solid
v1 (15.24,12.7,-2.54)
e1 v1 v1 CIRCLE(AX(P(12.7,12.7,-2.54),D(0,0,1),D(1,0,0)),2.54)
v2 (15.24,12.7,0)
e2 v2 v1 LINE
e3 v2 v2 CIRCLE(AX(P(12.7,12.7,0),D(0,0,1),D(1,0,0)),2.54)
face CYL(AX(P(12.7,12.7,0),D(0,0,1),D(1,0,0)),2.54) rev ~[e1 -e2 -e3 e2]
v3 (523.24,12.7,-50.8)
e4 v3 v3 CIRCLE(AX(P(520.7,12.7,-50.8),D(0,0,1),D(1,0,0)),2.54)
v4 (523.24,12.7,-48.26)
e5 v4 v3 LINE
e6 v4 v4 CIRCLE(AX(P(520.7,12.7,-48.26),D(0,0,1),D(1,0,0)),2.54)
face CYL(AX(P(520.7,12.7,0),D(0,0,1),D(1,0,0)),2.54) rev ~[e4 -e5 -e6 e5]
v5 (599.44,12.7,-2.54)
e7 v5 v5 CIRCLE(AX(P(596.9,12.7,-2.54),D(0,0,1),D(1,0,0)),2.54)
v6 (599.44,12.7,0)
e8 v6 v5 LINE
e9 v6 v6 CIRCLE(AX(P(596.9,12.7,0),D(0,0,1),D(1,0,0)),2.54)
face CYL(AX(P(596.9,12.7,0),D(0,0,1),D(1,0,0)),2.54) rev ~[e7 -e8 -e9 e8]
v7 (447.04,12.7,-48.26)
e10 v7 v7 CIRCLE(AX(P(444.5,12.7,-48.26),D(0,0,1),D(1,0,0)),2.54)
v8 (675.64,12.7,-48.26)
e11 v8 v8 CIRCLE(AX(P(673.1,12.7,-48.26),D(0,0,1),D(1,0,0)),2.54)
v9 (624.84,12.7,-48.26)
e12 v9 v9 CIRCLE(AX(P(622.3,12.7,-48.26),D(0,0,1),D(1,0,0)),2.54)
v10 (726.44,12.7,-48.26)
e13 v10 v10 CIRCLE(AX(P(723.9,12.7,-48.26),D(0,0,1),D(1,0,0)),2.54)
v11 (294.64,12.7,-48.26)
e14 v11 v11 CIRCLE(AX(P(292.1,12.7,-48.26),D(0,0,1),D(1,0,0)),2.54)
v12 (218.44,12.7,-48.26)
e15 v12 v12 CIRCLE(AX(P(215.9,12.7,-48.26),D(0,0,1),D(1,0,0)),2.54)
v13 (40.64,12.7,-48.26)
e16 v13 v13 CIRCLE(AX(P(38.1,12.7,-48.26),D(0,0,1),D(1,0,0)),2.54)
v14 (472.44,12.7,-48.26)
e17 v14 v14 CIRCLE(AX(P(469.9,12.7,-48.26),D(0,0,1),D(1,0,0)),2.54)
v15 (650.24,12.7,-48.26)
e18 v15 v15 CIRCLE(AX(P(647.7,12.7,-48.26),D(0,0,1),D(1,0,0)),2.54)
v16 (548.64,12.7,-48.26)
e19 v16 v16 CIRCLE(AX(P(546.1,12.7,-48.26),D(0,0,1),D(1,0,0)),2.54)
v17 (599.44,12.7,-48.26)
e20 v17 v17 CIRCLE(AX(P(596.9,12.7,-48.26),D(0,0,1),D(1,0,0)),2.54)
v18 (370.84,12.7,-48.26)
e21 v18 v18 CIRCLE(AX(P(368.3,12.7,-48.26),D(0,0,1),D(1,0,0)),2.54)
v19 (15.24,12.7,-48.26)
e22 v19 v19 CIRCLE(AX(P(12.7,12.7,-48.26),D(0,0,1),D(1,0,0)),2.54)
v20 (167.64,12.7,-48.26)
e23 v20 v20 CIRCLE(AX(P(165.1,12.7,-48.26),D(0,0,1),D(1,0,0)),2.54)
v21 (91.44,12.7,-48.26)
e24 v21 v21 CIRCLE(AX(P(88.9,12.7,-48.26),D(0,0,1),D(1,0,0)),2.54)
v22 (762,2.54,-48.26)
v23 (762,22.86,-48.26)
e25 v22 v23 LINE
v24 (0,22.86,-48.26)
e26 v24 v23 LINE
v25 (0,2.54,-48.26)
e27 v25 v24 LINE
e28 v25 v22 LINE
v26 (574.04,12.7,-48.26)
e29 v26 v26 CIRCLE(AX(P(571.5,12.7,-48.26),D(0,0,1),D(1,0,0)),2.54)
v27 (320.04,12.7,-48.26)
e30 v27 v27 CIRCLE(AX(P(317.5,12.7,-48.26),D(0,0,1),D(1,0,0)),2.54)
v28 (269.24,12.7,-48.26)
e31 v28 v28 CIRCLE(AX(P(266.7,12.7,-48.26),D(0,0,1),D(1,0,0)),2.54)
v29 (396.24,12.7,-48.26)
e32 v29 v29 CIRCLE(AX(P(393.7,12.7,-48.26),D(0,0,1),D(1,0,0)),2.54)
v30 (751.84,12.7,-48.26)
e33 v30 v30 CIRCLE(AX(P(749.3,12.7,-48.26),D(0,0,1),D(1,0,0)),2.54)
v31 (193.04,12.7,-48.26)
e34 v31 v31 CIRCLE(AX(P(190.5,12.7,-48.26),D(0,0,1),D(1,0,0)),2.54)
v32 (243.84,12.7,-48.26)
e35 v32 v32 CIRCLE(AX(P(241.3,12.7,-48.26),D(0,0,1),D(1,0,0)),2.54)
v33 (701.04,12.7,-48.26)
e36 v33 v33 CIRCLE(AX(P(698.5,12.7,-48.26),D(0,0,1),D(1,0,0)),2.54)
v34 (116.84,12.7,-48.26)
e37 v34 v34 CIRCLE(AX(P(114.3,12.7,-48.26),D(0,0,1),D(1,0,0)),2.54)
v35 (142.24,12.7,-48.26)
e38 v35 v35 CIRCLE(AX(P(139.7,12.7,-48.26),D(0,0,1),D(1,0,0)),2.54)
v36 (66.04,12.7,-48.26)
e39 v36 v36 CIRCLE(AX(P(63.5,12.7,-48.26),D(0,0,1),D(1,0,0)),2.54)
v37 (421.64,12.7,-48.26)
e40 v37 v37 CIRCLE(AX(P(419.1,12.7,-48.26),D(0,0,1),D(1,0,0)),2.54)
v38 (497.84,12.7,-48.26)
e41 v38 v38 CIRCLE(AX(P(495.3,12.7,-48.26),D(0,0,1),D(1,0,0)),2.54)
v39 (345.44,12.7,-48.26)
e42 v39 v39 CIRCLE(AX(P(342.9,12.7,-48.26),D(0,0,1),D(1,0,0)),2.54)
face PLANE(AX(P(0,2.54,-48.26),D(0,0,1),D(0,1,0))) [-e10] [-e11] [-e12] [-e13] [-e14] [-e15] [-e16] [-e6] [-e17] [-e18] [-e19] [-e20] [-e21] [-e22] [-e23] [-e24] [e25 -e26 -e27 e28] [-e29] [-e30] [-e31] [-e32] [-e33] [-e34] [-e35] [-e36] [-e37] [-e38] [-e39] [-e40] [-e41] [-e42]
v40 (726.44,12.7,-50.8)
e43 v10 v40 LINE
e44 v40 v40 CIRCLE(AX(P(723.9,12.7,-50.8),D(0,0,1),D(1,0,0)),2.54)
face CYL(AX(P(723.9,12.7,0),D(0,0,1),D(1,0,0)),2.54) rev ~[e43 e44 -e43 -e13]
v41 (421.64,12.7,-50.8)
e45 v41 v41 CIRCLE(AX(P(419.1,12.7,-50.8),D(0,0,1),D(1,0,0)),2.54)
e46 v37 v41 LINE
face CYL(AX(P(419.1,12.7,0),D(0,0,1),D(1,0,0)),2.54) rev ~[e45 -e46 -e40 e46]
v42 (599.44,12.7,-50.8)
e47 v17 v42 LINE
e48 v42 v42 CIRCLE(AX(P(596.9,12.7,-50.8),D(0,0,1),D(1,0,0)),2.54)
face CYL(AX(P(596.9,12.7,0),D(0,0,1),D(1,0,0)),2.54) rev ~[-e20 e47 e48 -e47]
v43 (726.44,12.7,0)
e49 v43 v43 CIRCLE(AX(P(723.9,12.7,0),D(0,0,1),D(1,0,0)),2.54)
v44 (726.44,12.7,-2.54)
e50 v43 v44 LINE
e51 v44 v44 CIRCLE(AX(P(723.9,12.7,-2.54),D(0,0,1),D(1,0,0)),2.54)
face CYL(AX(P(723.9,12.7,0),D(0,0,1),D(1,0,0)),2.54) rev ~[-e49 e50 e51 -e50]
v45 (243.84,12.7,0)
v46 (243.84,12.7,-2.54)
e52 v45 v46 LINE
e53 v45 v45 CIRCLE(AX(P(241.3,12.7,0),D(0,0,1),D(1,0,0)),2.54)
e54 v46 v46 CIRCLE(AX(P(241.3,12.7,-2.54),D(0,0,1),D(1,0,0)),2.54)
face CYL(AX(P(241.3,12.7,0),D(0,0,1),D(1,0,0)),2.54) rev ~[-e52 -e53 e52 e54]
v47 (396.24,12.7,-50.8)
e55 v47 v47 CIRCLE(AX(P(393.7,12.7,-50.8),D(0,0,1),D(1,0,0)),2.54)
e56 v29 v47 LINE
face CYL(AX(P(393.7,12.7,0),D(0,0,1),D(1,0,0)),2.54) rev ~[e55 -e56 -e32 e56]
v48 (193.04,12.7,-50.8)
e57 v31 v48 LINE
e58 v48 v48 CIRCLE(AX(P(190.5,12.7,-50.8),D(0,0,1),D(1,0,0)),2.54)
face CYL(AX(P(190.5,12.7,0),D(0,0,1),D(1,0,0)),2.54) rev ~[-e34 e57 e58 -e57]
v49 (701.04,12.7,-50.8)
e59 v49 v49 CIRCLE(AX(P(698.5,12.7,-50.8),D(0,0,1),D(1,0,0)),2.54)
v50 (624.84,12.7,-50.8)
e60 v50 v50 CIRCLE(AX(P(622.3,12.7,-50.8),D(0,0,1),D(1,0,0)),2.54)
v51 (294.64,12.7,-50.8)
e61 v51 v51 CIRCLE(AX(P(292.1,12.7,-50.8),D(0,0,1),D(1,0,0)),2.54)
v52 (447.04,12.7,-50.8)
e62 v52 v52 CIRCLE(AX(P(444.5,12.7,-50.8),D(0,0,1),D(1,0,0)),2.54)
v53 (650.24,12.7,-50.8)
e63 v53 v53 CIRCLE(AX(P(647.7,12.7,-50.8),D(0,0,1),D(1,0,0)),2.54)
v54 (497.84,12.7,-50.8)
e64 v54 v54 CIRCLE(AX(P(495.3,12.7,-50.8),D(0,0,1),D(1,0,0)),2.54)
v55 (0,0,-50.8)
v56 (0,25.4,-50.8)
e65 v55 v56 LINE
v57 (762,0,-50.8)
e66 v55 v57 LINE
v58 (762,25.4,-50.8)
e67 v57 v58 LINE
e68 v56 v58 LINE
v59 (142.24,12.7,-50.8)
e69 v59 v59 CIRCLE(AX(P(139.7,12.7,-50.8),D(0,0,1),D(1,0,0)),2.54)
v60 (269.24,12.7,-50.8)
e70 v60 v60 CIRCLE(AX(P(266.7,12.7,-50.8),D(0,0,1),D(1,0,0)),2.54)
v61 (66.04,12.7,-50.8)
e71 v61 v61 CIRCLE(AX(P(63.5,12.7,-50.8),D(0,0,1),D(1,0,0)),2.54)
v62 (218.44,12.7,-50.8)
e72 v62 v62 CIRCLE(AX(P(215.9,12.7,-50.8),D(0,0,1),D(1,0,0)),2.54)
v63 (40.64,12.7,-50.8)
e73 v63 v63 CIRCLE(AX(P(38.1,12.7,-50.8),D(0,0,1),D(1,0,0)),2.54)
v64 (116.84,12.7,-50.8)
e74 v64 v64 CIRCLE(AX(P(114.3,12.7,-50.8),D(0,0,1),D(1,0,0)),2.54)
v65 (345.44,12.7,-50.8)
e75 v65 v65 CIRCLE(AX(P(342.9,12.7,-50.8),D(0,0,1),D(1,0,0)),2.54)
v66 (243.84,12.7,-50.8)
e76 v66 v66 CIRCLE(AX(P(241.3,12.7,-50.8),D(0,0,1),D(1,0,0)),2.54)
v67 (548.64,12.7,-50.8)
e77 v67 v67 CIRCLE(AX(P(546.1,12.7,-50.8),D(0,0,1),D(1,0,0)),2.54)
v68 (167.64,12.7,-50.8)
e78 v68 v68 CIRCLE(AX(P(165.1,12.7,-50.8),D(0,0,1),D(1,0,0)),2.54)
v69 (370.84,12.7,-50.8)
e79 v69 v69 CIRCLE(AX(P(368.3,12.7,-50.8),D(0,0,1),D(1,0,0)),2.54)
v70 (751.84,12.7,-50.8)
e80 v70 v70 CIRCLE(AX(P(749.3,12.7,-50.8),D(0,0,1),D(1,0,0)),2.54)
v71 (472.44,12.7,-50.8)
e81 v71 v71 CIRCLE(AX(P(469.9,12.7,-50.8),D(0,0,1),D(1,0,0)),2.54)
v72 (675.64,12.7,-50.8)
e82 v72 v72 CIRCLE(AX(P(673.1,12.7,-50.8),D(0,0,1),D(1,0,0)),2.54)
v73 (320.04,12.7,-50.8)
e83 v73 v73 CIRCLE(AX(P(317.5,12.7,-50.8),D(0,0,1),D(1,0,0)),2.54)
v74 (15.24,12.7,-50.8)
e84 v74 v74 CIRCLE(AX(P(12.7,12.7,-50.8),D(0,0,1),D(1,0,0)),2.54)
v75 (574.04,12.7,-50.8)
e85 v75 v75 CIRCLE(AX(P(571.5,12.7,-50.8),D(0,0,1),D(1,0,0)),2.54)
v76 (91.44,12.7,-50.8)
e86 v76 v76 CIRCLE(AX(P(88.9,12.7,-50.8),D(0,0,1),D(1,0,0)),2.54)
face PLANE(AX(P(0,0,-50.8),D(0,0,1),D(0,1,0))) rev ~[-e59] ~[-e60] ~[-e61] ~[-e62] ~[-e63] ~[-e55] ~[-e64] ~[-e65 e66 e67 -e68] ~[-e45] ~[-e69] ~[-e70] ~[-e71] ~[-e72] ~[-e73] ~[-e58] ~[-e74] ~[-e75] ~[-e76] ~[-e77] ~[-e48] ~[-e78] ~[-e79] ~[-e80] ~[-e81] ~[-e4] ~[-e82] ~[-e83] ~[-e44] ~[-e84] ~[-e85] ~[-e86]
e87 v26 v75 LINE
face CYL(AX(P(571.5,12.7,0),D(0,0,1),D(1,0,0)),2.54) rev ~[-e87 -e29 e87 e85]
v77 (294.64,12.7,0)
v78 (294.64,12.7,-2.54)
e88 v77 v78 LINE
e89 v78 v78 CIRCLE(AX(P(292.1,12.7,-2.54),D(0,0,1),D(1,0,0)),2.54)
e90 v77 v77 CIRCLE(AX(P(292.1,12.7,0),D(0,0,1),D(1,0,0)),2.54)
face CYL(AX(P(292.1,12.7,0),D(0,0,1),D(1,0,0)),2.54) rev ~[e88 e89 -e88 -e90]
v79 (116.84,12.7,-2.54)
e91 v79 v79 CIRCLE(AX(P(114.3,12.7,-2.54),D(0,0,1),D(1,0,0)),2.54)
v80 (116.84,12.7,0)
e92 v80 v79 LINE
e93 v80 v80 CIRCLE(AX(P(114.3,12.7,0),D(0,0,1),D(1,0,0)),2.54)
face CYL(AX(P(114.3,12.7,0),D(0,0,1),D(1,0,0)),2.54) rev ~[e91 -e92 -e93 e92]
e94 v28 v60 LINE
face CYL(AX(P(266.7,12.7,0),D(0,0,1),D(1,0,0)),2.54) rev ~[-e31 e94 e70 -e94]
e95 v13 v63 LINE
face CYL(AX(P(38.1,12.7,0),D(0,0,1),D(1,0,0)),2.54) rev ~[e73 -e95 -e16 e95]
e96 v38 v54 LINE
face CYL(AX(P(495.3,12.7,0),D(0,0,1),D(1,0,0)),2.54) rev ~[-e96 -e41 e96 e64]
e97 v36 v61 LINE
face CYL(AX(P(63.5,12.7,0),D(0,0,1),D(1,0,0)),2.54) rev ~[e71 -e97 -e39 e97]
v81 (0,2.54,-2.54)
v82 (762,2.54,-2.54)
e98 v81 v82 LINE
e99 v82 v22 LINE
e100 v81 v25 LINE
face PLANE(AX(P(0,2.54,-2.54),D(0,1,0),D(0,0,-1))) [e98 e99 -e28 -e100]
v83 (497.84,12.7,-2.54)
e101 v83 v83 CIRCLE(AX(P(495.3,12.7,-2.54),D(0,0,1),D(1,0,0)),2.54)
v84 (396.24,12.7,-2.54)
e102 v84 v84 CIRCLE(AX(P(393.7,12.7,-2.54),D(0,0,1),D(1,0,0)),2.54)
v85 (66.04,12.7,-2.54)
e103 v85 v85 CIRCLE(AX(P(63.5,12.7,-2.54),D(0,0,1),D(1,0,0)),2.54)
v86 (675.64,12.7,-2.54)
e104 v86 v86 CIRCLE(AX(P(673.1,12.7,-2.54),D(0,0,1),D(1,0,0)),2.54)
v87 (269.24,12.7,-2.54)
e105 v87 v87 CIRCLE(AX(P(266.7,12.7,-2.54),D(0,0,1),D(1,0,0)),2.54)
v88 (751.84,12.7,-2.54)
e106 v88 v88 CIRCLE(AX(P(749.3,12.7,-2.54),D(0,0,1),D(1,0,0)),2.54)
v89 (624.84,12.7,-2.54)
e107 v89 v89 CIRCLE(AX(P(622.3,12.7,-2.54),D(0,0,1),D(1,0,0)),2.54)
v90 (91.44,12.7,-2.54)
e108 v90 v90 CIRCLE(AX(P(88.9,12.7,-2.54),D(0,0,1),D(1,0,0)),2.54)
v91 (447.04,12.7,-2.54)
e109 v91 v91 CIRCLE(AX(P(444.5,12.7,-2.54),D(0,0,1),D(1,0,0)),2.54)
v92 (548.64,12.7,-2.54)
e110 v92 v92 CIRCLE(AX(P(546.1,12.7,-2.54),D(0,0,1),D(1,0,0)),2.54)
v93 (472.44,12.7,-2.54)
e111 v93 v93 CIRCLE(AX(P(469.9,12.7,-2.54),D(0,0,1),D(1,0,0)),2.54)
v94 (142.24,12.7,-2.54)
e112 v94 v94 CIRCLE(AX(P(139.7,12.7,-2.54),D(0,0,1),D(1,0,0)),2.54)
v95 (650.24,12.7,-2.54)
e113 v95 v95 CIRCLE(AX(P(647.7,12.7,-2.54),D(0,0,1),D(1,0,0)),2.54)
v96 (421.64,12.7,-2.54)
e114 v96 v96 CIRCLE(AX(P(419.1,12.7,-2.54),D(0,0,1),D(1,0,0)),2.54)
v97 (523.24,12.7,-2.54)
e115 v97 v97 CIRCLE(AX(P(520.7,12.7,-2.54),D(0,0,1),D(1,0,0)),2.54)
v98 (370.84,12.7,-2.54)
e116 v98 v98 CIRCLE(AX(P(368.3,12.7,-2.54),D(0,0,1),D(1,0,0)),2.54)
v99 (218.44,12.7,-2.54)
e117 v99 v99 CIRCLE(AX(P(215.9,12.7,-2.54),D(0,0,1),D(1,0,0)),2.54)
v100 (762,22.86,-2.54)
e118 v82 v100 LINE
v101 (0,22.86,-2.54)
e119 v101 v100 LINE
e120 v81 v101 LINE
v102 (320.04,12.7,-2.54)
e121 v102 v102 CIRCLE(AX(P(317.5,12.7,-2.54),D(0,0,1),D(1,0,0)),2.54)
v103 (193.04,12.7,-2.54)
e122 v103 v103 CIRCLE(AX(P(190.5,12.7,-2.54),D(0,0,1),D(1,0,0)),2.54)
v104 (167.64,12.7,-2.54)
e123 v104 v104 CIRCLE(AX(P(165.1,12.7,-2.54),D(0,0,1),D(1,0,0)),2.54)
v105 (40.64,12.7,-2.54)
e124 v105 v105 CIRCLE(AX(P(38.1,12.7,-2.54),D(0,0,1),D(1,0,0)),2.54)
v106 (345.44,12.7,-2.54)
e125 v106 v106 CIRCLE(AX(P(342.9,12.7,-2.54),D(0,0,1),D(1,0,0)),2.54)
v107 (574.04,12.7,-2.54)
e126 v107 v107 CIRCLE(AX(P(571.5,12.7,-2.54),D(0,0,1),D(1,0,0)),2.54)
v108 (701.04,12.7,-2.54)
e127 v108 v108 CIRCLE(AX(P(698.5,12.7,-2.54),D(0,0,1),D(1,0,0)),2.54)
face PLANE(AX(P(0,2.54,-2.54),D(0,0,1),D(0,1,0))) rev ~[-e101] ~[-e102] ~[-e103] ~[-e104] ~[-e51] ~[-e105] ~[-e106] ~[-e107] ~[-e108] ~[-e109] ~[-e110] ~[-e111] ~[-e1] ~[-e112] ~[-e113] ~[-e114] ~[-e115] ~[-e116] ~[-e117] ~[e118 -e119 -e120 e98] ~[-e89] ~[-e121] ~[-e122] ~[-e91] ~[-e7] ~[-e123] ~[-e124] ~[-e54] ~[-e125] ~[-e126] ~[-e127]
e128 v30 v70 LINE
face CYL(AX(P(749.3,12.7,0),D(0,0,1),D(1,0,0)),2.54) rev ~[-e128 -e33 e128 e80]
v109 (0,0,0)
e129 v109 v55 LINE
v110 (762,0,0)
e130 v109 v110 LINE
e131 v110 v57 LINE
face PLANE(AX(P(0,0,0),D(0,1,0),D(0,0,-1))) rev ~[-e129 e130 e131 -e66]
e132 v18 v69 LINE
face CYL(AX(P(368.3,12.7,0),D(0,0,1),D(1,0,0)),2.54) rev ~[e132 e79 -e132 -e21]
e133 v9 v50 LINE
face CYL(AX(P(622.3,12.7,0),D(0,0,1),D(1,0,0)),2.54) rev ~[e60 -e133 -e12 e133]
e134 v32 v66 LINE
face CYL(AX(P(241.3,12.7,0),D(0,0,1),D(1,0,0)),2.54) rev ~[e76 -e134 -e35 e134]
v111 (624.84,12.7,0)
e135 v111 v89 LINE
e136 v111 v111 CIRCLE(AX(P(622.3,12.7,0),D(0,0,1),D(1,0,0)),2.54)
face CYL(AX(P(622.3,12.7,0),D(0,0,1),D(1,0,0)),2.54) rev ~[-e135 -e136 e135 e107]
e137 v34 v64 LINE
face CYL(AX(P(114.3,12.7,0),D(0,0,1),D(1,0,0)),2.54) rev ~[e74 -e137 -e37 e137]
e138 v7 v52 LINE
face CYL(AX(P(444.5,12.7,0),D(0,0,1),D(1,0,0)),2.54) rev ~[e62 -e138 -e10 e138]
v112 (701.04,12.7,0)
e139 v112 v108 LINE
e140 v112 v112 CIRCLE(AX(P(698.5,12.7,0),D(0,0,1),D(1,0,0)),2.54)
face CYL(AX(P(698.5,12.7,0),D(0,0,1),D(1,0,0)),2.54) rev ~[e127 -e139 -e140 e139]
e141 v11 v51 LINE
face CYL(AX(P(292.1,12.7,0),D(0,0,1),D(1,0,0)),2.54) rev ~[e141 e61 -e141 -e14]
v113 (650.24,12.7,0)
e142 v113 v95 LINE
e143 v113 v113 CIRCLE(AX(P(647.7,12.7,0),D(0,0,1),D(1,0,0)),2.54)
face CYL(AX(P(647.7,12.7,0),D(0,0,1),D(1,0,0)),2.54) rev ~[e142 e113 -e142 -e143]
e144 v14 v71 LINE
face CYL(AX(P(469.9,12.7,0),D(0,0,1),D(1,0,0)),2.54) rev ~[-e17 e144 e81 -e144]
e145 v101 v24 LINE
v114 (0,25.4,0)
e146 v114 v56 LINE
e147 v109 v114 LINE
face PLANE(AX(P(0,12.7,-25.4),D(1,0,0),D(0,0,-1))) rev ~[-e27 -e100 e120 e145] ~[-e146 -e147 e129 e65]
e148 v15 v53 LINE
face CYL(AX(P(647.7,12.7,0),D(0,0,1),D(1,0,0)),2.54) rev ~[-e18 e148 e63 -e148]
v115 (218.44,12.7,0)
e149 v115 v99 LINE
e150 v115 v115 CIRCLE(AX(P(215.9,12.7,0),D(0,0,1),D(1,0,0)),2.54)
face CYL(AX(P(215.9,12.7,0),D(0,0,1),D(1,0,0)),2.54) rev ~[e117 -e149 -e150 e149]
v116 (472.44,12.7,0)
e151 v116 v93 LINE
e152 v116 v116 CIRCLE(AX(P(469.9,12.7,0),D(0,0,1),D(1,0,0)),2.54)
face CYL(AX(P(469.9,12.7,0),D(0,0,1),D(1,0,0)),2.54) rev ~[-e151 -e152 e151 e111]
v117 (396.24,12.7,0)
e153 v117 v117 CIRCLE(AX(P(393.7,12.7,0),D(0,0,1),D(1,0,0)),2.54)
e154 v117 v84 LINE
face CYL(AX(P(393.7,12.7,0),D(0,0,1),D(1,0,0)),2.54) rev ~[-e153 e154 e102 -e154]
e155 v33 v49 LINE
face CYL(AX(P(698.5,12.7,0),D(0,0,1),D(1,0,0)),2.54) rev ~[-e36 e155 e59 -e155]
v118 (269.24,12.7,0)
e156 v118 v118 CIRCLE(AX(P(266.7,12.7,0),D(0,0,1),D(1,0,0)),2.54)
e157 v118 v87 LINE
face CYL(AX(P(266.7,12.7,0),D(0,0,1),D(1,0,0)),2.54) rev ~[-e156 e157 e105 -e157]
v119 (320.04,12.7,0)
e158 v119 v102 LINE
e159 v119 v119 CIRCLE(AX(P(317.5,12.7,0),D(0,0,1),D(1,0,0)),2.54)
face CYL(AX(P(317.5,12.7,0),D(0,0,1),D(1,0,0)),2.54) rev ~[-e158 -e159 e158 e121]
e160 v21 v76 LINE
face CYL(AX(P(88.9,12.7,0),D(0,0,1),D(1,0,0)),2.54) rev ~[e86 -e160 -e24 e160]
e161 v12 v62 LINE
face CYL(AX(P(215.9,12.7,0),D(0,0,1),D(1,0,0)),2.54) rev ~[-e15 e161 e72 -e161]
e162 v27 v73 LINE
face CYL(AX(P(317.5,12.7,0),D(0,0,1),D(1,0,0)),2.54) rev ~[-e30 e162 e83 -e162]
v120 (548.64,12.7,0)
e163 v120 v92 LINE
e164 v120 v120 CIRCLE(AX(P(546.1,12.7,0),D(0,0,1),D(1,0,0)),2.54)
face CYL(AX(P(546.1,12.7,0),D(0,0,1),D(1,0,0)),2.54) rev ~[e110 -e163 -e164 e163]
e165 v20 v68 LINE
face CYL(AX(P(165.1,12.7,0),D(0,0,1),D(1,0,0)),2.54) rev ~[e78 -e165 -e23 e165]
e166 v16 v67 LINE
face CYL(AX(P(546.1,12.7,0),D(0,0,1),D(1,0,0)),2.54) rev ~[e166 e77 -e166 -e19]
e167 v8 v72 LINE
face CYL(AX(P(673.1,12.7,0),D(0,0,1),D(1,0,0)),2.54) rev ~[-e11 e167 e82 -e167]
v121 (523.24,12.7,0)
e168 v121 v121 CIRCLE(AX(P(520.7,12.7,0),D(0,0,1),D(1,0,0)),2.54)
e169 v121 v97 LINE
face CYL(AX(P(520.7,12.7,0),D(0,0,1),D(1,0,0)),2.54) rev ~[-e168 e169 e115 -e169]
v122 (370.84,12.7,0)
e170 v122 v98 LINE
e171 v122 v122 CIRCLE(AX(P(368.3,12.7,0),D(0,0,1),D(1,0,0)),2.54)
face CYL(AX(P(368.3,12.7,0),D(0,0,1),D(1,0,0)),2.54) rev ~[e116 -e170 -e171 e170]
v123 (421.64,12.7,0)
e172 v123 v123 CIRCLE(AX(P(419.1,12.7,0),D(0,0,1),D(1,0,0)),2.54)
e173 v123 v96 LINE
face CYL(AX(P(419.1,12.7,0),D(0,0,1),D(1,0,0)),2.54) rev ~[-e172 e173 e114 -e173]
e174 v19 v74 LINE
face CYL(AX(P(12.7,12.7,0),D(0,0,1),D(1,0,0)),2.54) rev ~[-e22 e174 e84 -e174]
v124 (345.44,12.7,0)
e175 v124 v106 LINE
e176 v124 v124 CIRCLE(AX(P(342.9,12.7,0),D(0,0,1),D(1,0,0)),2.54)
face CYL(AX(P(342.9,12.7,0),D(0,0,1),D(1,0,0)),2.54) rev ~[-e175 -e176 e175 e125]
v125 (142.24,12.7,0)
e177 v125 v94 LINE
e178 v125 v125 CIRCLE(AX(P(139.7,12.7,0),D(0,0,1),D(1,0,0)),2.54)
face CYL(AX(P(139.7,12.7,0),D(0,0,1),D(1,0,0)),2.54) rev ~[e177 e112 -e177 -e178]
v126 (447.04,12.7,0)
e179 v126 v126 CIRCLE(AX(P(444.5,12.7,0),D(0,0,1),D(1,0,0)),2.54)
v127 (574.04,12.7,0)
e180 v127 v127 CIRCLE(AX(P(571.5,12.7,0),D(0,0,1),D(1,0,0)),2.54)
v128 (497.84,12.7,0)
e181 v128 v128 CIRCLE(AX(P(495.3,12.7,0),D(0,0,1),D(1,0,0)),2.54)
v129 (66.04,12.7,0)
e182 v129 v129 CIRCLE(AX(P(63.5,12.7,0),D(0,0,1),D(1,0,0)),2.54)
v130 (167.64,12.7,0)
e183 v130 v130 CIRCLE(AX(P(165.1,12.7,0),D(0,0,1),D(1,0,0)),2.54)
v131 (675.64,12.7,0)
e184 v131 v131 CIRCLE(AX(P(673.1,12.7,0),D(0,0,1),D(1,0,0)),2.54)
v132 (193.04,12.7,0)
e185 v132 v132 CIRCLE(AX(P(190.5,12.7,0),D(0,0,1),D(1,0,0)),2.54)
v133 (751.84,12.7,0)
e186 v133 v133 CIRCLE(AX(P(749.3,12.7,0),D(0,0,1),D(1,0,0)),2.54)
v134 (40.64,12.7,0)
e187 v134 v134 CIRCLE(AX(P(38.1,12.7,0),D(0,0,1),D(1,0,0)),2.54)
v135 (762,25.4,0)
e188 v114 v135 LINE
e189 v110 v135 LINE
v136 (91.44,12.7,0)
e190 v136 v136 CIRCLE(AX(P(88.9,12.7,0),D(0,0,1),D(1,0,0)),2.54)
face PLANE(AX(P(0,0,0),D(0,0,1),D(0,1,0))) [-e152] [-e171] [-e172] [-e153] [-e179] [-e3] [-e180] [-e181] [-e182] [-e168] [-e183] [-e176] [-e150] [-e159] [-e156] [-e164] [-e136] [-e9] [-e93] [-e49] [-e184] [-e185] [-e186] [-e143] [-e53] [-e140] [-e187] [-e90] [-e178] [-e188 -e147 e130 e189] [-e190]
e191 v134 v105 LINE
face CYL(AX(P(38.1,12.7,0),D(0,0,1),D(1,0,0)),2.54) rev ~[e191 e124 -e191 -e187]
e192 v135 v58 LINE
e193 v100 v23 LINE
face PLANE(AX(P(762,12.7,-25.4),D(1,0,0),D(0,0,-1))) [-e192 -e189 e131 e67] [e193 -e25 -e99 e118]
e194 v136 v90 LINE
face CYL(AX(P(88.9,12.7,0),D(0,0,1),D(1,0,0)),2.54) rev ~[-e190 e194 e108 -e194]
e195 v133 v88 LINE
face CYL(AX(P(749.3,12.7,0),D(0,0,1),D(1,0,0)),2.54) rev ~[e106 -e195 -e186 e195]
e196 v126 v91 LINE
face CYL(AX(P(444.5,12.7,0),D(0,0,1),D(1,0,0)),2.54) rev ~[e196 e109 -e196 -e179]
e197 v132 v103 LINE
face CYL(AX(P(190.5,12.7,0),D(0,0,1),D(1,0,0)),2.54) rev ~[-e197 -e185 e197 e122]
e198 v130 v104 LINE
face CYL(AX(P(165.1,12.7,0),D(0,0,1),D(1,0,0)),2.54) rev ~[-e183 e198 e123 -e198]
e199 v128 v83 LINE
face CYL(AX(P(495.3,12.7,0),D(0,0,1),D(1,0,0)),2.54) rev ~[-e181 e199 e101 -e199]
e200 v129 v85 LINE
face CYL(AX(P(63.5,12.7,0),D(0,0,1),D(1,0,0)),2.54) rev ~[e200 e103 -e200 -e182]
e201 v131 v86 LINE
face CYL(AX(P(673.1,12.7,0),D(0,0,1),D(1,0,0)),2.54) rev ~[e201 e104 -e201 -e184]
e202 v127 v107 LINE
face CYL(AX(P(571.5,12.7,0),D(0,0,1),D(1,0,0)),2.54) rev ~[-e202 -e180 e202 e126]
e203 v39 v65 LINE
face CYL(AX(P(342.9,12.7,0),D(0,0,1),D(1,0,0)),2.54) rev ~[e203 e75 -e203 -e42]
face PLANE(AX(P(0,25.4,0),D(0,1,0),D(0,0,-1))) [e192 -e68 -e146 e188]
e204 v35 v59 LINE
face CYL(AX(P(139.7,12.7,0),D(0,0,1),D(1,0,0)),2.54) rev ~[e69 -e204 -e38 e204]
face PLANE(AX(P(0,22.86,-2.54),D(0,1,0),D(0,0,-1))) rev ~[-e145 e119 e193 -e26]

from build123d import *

# Parameters (mm, degrees)
SKETCH1_W           = 50.8
SKETCH1_H           = 25.4
SKETCH1_W_2         = 45.72
SKETCH1_H_2         = 20.32
BOSS_EXTRUDE1_DEPTH = 762
SKETCH2_R           = 2.54
CUT_EXTRUDE1_DEPTH  = 51.8
LPATTERN1_COUNT     = 30
LPATTERN1_PITCH     = 25.4


with BuildPart() as part:
    # Sketch1 → Boss-Extrude1 (new body)
    with BuildSketch(Plane(origin=(0, 0, 0), x_dir=(0, 0, -1), z_dir=(1, 0, 0))):
        with Locations((25.4, 12.7)):
            Rectangle(SKETCH1_W, SKETCH1_H)
        with Locations((25.4, 12.7)):
            Rectangle(SKETCH1_W_2, SKETCH1_H_2, mode=Mode.SUBTRACT)
    extrude(amount=BOSS_EXTRUDE1_DEPTH)

    # Sketch2 → Cut-Extrude1 (cut, through all)
    with BuildSketch(Plane.XY):
        with Locations((12.7, 12.7)):
            Circle(SKETCH2_R)
    cut_extrude1 = extrude(amount=-CUT_EXTRUDE1_DEPTH, mode=Mode.SUBTRACT)

    # LPattern1: Cut-Extrude1 ×30
    with Locations(*[(i * LPATTERN1_PITCH, 0, 0) for i in range(1, LPATTERN1_COUNT)]):
        add(cut_extrude1, mode=Mode.SUBTRACT)


solid = part.part
